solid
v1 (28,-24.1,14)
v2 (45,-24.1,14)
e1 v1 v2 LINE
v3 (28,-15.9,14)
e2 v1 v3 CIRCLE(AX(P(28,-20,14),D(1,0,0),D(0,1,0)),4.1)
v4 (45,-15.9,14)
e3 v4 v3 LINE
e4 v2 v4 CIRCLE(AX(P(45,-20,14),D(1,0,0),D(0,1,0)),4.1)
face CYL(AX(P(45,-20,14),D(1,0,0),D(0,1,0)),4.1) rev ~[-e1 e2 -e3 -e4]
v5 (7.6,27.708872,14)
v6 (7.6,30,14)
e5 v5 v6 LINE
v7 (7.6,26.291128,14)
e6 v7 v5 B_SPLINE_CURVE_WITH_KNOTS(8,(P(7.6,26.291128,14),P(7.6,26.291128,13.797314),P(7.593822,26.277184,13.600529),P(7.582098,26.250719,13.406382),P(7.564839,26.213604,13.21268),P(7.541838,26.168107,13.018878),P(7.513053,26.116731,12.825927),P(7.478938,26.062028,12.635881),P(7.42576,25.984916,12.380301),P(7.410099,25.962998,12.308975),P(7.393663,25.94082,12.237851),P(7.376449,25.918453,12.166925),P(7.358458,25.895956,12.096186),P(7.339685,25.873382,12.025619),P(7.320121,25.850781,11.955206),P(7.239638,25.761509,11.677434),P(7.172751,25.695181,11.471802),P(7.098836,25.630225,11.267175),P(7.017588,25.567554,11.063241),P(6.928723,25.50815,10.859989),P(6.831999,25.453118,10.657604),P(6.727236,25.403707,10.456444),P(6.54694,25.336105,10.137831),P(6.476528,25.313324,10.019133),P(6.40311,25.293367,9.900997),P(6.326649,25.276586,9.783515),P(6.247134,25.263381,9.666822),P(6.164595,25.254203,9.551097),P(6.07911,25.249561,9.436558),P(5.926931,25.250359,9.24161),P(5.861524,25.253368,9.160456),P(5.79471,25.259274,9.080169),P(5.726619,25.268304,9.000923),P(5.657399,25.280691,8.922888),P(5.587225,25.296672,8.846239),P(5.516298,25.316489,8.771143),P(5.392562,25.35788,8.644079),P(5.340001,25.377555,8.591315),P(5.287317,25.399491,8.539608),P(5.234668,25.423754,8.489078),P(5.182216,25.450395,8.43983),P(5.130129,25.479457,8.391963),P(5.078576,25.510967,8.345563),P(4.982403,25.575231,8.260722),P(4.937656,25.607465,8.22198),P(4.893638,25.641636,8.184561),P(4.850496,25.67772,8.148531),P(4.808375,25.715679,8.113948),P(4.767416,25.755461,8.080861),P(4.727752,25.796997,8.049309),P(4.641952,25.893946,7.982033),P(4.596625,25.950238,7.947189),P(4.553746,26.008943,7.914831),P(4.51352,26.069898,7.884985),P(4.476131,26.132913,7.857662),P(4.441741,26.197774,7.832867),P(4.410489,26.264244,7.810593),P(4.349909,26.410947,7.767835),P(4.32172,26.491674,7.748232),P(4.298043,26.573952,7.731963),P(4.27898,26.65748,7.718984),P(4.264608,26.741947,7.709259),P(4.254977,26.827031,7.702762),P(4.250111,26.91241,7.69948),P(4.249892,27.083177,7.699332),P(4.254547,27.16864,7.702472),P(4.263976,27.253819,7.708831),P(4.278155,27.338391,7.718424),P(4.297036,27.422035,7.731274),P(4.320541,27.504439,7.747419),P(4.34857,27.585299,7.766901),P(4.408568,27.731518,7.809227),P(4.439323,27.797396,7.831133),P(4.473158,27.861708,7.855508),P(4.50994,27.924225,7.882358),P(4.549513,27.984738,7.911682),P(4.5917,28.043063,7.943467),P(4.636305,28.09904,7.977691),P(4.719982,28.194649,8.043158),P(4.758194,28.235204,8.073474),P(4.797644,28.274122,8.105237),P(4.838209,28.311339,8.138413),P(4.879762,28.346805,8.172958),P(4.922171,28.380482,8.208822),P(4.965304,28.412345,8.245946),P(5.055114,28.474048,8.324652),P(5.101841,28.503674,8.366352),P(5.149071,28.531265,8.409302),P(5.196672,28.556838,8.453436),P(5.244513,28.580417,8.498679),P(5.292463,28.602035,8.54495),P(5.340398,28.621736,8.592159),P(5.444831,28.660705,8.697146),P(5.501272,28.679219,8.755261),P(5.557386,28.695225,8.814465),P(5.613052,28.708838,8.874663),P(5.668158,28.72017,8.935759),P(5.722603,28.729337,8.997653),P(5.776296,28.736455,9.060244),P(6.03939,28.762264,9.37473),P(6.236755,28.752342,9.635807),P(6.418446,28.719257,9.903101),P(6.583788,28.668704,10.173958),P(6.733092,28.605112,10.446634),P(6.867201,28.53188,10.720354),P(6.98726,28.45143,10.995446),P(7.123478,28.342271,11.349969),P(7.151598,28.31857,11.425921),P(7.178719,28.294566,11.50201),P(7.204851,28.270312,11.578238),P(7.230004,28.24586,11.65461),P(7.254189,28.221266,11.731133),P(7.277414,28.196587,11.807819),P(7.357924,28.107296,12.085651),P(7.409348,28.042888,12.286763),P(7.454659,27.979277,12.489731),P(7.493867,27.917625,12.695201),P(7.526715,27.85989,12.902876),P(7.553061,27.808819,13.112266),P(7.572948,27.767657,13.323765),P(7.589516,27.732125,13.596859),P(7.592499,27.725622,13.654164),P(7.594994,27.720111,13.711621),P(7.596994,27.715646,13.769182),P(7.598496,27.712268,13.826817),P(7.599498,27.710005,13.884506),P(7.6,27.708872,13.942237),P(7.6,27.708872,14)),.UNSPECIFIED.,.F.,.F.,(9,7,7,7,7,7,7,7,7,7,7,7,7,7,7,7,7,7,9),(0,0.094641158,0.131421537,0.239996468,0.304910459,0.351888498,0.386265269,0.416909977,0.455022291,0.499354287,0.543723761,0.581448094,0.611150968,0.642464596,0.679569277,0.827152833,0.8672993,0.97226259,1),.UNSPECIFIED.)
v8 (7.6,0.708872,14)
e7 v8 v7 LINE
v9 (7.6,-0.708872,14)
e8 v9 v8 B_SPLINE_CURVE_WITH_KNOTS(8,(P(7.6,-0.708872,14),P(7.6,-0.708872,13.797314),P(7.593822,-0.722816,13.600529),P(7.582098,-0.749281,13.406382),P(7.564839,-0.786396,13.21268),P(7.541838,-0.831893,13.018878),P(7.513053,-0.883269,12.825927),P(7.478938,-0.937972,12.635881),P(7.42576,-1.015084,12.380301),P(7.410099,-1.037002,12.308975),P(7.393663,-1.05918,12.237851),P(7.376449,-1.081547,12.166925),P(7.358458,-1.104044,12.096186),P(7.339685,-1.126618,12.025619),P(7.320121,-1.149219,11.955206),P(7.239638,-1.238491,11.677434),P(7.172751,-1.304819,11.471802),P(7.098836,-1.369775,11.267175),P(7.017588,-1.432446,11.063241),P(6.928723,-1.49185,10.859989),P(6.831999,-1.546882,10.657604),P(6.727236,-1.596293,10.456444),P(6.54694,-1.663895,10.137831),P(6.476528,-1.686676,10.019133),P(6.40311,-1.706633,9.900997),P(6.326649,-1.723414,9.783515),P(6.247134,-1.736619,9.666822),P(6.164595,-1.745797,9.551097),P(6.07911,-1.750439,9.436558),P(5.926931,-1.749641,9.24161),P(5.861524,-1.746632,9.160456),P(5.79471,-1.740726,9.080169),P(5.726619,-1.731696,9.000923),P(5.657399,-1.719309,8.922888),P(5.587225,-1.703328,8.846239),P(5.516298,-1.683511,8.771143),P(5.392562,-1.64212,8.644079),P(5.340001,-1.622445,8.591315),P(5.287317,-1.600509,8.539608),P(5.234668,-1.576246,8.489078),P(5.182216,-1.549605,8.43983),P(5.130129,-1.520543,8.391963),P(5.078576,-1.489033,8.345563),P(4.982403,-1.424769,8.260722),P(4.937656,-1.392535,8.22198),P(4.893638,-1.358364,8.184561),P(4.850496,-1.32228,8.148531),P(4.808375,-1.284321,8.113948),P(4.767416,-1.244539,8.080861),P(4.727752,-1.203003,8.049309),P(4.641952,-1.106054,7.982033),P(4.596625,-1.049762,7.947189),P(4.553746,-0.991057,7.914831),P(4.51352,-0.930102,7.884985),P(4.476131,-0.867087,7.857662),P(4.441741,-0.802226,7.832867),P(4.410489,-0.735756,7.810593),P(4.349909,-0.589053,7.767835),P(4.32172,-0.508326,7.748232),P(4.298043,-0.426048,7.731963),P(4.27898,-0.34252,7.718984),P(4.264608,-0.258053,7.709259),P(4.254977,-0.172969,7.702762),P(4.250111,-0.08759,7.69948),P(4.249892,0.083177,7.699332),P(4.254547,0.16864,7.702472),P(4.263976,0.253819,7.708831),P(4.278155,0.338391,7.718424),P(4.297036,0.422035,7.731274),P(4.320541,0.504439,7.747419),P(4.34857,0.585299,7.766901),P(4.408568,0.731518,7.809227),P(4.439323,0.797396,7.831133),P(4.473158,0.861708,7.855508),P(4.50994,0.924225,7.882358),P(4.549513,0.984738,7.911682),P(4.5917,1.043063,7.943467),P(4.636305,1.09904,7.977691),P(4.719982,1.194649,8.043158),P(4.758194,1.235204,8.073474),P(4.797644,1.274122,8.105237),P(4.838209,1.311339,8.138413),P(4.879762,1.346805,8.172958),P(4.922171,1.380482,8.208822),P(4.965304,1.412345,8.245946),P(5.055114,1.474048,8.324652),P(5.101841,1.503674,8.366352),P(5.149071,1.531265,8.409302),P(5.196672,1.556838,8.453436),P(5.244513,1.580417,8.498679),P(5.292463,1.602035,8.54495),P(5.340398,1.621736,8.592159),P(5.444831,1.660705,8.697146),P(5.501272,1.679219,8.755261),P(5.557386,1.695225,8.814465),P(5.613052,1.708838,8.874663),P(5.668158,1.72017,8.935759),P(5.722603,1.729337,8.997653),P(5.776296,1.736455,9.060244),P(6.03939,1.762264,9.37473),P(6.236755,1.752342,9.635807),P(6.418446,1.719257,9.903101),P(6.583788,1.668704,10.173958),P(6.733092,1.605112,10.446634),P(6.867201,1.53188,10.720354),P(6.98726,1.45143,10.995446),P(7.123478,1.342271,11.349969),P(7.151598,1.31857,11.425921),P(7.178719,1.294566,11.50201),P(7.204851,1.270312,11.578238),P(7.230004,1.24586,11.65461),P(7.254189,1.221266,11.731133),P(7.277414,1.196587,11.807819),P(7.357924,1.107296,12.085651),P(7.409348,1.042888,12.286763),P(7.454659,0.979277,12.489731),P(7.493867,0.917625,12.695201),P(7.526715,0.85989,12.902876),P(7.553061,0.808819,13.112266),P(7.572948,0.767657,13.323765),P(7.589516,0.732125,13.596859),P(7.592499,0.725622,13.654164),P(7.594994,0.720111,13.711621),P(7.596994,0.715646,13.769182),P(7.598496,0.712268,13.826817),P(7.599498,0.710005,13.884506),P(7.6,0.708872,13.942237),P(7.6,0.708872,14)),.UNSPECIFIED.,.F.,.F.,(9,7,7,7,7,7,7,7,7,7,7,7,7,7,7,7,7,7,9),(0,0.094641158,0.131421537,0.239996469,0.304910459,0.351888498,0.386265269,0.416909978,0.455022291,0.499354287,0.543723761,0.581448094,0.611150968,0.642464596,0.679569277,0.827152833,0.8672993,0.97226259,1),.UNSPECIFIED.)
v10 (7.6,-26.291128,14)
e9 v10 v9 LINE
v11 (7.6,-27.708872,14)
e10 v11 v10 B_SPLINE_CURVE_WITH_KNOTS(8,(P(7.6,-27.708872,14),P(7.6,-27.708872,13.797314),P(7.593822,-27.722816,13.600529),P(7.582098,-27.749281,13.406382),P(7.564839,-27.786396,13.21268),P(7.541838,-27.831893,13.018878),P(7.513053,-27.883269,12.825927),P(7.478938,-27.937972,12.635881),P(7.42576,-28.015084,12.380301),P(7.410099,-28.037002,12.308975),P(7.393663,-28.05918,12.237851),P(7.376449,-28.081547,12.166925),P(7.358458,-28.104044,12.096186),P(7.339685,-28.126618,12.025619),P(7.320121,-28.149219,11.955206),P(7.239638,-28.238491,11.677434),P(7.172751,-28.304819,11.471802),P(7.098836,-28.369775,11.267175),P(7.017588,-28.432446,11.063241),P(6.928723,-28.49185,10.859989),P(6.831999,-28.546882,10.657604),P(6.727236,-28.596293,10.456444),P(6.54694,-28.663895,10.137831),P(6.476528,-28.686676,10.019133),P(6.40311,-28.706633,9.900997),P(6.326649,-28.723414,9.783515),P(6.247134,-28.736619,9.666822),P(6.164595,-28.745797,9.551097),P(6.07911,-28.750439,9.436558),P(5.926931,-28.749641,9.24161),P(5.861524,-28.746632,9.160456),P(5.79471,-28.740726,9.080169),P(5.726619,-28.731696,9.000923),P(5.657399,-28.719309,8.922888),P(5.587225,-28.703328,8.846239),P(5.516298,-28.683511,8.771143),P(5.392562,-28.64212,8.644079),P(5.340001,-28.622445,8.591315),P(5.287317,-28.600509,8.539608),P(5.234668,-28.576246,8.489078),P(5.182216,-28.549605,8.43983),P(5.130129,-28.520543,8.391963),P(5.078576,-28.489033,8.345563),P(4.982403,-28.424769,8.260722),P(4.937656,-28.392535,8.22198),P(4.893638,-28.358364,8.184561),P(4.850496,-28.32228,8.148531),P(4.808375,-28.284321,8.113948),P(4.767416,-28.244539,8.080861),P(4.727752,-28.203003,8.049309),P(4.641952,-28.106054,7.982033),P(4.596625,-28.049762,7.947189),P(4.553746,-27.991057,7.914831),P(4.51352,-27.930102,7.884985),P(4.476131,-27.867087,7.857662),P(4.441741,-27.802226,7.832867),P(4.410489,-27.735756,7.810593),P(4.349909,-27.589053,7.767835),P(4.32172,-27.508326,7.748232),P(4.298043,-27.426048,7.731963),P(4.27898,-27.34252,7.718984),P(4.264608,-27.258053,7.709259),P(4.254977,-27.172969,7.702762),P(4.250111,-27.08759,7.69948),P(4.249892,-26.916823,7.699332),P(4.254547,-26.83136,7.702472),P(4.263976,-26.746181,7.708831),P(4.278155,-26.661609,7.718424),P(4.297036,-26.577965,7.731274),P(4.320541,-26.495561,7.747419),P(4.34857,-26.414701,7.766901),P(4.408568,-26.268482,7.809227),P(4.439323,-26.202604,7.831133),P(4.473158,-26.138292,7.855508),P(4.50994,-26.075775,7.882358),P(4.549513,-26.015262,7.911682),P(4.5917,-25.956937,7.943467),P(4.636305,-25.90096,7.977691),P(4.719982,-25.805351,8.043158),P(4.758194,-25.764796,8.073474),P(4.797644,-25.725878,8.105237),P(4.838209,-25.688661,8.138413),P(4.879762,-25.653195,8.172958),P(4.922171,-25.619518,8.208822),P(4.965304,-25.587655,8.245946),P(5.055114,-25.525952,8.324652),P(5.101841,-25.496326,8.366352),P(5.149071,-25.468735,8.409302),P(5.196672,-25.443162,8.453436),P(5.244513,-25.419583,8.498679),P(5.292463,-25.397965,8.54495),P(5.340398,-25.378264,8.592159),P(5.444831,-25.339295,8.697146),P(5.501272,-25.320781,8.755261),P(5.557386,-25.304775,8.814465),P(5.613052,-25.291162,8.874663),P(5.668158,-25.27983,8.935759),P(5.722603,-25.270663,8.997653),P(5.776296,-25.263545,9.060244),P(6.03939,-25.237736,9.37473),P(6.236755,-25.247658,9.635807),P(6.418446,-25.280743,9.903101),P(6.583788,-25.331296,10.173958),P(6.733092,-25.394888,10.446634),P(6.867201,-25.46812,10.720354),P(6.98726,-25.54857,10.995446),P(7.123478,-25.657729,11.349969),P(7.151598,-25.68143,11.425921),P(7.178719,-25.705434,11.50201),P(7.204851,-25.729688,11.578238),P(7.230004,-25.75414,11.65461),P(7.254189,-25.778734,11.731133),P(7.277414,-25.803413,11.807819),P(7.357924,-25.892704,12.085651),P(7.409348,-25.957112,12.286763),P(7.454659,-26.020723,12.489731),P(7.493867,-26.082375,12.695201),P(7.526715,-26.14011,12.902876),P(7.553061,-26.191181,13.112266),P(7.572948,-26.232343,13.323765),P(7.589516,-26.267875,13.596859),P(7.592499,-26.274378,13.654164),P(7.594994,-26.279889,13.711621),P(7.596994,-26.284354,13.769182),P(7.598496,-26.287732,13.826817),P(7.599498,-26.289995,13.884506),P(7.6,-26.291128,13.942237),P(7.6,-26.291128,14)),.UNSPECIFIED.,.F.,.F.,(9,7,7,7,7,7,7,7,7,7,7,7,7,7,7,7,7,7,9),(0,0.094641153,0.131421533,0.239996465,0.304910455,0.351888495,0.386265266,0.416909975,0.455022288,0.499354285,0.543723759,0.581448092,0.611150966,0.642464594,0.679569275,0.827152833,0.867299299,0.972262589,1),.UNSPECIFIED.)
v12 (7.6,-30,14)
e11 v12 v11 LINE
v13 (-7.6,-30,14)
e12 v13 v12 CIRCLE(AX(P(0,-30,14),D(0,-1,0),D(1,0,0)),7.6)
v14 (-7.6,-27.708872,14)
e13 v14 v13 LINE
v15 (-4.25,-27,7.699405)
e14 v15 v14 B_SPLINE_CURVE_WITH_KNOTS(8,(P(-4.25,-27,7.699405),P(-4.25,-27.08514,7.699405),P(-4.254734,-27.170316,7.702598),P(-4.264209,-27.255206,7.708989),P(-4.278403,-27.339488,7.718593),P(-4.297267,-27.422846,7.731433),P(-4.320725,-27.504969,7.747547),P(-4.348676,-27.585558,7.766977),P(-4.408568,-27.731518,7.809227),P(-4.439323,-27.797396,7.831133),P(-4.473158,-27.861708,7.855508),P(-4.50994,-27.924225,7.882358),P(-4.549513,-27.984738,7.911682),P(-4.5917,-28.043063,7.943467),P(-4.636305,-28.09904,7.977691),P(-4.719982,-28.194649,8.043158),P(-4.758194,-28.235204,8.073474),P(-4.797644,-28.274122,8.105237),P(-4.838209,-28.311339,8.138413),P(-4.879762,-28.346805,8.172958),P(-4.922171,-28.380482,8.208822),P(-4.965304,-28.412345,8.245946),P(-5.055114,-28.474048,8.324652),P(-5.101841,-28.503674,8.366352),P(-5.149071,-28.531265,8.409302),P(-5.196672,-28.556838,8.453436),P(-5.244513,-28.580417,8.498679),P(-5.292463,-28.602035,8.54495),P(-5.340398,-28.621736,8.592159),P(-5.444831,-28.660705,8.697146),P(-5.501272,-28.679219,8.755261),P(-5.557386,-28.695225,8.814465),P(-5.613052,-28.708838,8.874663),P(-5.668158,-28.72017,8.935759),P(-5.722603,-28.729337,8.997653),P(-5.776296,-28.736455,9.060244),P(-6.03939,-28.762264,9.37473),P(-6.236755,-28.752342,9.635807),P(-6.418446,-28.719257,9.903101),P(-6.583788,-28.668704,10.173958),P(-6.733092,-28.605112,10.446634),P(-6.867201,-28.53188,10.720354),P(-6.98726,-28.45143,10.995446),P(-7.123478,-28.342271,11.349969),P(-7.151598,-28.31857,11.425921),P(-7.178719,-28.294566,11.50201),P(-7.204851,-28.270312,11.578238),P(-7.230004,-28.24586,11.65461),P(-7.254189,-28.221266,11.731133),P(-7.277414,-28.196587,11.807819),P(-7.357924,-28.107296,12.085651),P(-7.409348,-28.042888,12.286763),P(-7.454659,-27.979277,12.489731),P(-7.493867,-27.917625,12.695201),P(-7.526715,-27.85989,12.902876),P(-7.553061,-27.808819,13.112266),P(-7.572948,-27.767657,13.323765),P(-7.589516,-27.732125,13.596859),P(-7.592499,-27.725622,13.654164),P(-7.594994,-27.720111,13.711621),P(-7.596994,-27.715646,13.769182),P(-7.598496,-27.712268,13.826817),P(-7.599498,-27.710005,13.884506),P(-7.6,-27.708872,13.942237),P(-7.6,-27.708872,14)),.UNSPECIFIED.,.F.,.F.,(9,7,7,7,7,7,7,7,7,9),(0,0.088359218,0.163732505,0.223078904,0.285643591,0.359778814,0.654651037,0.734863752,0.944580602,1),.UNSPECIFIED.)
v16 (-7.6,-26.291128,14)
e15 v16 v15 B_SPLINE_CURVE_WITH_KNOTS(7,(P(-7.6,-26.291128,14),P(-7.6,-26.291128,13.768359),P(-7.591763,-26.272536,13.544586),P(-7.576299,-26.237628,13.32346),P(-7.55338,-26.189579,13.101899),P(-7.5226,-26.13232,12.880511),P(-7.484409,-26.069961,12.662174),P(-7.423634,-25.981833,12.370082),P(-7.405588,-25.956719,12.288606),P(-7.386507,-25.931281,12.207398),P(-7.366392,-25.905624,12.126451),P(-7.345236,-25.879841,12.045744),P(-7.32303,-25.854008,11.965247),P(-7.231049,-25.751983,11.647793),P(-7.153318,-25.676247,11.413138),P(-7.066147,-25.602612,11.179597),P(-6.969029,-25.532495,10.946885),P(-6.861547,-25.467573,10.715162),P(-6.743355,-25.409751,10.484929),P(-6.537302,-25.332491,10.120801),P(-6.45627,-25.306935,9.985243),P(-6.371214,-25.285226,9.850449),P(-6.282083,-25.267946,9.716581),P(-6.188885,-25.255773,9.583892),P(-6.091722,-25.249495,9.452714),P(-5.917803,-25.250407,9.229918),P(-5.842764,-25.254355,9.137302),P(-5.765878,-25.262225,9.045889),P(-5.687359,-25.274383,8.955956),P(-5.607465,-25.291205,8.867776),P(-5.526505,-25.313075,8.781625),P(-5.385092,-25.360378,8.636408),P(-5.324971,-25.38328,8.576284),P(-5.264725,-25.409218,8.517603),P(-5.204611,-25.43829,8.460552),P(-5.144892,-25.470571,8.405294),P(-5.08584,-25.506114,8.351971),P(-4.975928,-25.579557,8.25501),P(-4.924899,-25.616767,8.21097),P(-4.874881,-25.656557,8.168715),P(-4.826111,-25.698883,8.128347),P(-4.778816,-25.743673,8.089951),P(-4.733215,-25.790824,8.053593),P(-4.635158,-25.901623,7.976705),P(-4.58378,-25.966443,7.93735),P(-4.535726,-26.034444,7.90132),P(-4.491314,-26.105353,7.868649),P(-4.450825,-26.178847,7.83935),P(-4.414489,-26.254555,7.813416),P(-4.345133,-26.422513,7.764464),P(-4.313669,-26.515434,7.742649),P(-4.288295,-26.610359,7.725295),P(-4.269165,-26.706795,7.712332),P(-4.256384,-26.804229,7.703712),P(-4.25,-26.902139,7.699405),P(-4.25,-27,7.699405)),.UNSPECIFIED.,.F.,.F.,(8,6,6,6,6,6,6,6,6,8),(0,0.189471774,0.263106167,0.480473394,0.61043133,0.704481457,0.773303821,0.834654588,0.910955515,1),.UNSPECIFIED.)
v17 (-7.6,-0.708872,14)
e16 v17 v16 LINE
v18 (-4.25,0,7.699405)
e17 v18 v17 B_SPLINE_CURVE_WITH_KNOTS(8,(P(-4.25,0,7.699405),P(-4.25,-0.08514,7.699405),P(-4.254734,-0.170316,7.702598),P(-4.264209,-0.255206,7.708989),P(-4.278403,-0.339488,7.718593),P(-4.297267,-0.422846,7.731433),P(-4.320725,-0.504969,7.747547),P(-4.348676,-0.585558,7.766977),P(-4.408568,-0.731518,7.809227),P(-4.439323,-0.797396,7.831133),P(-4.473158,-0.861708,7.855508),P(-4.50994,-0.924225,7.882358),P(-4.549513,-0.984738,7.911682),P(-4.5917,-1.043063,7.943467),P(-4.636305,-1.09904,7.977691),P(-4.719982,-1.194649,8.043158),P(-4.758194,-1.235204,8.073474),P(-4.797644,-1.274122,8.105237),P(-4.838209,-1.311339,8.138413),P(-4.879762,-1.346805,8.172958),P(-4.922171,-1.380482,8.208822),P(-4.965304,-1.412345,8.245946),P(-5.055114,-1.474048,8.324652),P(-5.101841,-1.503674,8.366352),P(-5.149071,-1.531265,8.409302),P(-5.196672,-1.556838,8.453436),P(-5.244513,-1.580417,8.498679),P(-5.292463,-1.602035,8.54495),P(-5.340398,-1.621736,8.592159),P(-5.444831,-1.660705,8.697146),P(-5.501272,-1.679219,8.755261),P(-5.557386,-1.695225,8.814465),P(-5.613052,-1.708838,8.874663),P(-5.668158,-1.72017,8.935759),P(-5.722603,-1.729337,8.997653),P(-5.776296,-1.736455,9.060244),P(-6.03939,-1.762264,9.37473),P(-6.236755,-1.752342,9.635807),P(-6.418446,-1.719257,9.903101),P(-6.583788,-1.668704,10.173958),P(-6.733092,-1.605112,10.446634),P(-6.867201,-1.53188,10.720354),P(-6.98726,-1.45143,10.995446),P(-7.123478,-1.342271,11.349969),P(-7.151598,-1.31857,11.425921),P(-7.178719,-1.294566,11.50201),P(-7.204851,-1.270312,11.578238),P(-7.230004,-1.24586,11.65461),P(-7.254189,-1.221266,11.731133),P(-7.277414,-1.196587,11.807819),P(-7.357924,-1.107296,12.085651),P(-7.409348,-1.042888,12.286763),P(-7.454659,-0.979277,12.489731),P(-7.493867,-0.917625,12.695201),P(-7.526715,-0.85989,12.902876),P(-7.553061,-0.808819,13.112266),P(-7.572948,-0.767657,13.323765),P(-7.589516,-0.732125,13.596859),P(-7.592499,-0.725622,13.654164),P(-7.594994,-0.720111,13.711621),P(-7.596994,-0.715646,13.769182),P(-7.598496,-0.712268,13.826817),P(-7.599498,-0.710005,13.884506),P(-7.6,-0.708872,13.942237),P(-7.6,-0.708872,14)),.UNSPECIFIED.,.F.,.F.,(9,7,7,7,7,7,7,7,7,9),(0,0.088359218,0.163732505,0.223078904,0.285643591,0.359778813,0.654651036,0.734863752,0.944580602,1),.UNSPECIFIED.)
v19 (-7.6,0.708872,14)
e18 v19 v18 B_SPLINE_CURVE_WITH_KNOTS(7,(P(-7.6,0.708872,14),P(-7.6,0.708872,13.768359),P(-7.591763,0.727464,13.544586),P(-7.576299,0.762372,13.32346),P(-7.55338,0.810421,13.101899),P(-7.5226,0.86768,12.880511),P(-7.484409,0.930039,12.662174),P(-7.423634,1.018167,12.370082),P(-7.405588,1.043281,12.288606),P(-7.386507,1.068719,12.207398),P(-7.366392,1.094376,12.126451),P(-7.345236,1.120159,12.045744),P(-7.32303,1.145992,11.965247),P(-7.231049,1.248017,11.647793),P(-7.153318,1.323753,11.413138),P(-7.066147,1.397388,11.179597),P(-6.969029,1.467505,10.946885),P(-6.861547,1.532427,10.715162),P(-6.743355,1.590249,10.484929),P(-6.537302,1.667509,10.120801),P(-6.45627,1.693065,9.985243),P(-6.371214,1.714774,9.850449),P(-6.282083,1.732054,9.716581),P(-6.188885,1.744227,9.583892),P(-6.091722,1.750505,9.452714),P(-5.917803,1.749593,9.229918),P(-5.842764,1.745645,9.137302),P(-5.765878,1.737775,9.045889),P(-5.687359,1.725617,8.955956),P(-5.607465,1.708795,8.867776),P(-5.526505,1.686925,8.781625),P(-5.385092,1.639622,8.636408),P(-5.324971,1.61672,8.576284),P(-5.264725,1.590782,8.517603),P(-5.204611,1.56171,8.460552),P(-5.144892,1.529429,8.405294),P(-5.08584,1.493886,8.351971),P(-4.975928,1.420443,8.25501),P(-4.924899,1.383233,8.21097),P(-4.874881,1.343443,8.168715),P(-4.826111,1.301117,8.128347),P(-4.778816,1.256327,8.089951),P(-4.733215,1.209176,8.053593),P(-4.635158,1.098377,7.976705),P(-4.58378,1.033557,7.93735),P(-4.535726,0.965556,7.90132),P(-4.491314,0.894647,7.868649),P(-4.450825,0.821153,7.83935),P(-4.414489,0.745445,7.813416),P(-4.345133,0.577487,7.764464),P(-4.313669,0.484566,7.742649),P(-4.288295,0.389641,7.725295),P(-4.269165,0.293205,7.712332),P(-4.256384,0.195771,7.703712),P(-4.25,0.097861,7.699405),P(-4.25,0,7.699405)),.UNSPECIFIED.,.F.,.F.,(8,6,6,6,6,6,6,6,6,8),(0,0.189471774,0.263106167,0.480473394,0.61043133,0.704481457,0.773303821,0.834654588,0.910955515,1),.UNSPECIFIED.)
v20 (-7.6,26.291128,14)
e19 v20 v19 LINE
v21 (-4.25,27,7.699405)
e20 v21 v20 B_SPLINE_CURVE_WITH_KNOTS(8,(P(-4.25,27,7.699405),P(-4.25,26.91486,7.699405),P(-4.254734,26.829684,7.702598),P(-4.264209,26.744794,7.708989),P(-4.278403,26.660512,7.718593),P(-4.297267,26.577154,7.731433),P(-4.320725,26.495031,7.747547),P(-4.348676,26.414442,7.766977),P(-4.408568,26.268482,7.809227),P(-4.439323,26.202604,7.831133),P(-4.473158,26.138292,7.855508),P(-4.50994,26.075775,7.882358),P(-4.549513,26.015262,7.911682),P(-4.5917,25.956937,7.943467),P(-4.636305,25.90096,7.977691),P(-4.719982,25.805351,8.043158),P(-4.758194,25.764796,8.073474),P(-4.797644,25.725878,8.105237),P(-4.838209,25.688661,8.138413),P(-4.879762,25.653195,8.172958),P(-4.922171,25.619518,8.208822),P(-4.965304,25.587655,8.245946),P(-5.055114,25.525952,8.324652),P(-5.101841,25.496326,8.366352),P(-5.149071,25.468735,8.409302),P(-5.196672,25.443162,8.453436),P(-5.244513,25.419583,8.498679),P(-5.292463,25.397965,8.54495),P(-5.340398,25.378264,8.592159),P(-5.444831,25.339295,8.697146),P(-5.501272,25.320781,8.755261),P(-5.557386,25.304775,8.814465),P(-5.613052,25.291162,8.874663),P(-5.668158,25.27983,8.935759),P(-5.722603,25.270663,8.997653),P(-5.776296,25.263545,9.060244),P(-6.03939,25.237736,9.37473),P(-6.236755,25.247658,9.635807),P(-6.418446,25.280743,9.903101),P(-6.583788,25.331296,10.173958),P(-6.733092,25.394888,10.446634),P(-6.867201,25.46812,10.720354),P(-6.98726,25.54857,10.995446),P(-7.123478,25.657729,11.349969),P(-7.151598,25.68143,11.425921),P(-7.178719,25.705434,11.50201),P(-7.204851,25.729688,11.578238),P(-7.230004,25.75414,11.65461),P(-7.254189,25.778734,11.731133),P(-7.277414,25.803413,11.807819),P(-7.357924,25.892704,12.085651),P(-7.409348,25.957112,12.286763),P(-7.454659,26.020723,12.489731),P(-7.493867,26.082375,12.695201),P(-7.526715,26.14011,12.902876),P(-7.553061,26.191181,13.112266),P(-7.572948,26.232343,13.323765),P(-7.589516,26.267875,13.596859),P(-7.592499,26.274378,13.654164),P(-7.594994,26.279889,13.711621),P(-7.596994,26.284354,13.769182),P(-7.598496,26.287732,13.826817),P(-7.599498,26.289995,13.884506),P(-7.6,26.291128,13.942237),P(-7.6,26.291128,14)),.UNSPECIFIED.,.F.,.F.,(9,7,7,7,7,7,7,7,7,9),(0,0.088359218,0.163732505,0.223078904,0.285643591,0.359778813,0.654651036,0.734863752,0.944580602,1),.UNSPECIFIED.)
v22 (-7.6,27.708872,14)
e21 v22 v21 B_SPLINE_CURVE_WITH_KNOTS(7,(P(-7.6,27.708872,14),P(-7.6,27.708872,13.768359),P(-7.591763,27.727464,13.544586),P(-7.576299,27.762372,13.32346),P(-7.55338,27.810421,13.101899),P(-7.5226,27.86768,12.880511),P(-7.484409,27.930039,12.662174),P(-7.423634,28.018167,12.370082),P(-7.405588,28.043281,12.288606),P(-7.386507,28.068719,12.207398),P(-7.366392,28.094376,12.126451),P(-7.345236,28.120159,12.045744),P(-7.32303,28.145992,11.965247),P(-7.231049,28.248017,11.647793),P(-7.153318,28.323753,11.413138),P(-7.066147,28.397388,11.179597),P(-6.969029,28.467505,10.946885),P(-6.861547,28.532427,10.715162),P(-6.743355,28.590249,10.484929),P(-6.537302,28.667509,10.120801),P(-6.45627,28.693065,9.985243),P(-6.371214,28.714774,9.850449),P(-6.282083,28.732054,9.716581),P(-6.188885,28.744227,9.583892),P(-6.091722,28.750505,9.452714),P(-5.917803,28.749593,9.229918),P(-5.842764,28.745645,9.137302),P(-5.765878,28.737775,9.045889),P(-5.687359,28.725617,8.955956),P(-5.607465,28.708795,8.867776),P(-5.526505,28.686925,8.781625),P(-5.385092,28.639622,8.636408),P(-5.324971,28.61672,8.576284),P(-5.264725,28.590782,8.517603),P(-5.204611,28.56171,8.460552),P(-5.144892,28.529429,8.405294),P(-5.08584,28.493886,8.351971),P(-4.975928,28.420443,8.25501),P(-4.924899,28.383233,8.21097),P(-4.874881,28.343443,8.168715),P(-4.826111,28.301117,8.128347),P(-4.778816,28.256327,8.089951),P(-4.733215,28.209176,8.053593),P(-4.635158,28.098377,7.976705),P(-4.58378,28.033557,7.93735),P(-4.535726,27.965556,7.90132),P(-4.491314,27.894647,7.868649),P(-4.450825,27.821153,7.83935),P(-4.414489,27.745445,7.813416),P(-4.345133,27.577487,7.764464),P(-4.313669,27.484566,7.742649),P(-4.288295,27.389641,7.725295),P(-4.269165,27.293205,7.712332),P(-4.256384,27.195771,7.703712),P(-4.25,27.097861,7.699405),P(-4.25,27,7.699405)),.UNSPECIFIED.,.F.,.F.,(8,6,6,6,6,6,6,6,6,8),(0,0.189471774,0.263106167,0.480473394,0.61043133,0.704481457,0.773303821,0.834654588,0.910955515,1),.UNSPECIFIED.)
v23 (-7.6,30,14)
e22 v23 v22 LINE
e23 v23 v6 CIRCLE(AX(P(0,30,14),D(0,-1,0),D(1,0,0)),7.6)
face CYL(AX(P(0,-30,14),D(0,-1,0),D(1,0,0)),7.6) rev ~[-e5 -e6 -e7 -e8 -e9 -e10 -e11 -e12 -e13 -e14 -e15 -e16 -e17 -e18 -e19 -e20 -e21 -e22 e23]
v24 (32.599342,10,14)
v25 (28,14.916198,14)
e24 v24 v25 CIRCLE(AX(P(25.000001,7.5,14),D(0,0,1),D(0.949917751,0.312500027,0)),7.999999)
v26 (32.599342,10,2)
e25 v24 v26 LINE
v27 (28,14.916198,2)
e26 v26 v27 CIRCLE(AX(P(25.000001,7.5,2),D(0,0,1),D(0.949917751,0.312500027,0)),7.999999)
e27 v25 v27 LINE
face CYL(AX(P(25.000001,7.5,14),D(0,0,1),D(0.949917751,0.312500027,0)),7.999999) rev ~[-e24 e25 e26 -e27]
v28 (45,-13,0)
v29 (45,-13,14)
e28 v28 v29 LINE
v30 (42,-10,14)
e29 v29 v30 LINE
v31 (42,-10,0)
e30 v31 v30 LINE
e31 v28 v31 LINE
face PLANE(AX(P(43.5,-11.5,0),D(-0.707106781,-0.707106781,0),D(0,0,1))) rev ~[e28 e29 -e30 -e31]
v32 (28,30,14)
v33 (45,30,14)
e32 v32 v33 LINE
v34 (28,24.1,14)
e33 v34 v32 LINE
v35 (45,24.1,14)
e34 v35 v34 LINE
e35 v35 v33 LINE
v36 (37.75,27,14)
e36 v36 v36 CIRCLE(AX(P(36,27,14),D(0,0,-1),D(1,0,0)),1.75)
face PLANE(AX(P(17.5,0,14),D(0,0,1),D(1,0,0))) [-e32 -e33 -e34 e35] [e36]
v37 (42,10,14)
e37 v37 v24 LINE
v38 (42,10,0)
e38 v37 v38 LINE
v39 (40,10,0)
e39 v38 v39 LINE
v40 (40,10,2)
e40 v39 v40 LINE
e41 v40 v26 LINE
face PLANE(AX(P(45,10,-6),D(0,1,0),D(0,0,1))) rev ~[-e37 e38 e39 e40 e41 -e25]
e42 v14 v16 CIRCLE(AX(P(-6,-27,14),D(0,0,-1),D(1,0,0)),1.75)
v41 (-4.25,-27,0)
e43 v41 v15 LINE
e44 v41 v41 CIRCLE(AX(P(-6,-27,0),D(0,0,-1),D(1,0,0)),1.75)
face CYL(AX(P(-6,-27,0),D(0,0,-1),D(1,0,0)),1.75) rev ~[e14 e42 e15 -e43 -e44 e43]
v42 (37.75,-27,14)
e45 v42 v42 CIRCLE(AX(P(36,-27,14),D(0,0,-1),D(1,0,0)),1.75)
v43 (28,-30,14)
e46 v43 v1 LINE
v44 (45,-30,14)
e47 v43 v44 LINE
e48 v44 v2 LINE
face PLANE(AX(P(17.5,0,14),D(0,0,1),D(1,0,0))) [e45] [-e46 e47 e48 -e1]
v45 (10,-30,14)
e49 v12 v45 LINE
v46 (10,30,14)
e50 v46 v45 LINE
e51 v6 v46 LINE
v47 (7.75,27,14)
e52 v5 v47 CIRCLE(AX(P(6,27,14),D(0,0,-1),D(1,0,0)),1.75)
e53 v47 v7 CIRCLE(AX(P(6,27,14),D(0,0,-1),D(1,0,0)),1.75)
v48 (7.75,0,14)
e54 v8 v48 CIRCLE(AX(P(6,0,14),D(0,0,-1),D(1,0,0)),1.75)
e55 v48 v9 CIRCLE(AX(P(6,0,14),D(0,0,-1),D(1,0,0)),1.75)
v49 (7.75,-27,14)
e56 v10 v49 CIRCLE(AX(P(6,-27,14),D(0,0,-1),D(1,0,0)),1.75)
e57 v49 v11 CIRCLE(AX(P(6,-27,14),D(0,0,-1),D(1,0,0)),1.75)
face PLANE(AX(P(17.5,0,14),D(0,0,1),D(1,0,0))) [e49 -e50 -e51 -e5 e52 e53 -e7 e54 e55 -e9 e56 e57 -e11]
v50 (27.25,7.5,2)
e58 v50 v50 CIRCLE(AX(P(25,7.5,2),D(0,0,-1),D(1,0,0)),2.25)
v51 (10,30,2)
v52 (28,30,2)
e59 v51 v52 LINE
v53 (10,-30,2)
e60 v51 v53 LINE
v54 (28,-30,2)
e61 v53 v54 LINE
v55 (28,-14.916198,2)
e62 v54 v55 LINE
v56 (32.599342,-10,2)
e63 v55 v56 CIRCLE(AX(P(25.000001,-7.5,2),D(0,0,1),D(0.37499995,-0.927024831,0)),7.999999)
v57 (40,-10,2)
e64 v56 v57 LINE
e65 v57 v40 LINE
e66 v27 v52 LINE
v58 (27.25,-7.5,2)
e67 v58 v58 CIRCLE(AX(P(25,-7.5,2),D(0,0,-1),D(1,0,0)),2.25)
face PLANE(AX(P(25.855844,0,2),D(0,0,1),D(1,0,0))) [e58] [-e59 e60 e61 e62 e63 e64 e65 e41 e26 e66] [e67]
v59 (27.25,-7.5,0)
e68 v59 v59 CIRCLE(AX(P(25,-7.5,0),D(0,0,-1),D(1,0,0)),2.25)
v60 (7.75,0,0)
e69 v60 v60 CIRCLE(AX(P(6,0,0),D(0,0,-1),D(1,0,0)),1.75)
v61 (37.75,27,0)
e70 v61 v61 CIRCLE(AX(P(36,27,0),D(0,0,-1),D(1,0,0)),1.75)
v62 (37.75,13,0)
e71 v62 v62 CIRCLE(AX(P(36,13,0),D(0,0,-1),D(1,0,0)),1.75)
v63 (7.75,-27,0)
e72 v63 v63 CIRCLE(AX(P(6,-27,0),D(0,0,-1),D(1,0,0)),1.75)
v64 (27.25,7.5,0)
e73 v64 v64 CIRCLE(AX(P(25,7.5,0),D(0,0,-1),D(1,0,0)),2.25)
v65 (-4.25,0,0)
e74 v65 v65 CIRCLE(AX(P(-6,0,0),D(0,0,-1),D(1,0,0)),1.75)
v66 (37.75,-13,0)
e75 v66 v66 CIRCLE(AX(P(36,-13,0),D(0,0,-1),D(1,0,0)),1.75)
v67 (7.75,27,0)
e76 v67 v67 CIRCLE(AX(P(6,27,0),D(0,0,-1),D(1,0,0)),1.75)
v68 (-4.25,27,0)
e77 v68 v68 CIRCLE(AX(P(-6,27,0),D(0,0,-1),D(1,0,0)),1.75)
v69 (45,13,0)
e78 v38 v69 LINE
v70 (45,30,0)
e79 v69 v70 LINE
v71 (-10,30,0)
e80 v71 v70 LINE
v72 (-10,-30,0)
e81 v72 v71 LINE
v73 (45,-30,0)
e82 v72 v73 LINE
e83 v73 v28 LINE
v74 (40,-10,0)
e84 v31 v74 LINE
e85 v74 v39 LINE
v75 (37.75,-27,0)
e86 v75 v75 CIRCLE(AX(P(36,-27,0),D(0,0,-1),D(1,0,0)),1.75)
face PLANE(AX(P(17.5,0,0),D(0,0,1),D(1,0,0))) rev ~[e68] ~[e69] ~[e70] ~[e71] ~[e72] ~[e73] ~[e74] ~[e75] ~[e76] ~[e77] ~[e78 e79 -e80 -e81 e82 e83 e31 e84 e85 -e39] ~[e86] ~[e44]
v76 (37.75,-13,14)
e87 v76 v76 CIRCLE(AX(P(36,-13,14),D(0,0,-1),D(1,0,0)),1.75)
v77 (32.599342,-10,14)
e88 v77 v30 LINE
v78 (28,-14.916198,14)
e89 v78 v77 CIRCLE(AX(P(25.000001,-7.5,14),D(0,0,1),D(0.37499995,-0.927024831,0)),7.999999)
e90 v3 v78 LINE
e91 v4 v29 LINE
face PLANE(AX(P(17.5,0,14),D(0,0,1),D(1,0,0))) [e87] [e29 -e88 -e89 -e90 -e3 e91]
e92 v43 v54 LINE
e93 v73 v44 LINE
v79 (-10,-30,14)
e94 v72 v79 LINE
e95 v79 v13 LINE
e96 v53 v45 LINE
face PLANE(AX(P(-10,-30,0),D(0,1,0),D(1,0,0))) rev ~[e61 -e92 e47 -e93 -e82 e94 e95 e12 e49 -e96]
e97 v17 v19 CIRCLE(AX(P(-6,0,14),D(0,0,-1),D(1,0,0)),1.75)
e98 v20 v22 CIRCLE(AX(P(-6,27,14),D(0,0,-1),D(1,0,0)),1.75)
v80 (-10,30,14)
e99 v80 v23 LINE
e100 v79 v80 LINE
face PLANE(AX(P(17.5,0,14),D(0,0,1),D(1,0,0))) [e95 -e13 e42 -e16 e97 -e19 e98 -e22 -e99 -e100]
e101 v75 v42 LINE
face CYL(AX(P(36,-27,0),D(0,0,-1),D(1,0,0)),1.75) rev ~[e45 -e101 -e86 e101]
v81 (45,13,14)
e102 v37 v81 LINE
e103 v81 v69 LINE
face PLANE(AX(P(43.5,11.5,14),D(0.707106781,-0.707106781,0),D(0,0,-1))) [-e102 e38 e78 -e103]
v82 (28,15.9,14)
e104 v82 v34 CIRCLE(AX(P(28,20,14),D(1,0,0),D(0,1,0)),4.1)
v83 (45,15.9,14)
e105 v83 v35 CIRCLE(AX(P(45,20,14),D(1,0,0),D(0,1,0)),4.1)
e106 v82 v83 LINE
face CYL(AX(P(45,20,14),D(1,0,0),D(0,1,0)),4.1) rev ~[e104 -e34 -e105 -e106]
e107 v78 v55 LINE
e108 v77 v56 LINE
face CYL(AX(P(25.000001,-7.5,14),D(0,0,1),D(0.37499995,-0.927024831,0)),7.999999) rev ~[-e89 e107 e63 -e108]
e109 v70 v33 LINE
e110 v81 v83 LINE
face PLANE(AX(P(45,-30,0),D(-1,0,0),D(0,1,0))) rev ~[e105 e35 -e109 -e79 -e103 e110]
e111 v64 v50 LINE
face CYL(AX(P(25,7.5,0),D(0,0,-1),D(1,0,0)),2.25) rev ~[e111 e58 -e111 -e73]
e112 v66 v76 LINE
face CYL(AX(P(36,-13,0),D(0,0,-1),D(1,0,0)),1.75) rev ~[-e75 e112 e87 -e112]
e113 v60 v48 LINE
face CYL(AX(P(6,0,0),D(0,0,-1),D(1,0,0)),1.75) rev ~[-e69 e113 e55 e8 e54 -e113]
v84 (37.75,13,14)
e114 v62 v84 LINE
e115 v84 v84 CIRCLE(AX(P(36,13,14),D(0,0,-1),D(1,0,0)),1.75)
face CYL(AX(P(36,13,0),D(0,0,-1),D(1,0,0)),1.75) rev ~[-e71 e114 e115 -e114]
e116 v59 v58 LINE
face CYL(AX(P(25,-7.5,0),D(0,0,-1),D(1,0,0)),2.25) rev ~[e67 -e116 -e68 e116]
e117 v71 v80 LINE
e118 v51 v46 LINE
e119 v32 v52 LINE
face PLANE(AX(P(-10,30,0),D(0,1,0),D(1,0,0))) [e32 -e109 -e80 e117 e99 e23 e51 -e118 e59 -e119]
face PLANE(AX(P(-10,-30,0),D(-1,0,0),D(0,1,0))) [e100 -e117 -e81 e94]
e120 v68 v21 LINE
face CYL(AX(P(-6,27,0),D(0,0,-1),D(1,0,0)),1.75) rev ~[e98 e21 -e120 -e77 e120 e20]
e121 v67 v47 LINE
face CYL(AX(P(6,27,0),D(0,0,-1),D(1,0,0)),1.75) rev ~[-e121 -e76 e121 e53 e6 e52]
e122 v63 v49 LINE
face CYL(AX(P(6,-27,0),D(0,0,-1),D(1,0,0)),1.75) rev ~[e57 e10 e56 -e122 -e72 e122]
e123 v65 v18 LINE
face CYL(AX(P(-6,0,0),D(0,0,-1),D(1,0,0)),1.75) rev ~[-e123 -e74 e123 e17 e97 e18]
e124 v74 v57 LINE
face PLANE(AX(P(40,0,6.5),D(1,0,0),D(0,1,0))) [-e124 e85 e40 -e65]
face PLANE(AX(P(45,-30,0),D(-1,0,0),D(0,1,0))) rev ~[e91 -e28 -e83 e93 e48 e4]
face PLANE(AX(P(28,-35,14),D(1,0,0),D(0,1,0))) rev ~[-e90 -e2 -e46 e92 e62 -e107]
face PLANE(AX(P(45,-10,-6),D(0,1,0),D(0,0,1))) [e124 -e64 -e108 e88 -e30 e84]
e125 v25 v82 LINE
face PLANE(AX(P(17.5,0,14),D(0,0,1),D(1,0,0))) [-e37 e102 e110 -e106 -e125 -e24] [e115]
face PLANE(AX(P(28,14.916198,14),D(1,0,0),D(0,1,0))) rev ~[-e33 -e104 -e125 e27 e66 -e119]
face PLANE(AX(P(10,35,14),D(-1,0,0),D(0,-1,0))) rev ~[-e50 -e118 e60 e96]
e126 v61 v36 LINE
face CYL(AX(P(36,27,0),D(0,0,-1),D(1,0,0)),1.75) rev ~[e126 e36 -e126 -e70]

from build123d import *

# Parameters (mm, degrees)
SKETCH_W        = 55
SKETCH_H        = 60
PAD_DEPTH       = 14
SKETCH001_R     = 7.6
POCKET_DEPTH    = 60.001
SKETCH002_R     = 1.75
POCKET001_DEPTH = 14.001
POCKET002_DEPTH = 12
SKETCH004_R     = 2.25
POCKET003_DEPTH = 14.001
SKETCH008_R     = 4.1
POCKET005_DEPTH = 20
SKETCH010_W     = 20
SKETCH010_H     = 25
POCKET006_DEPTH = 5
CHAMFER_SIZE    = 3
CHAMFER001_SIZE = 3


with BuildPart() as part:
    # Sketch → Pad (new body)
    with BuildSketch(Plane.XY):
        with Locations((17.5, 0)):
            Rectangle(SKETCH_W, SKETCH_H)
    extrude(amount=PAD_DEPTH)

    # Sketch001 → Pocket (cut, through all)
    with BuildSketch(Plane.XZ.offset(30)):
        with Locations((0, 14)):
            Circle(SKETCH001_R)
    extrude(amount=-POCKET_DEPTH, mode=Mode.SUBTRACT)

    # Sketch002 → Pocket001 (cut, through all)
    with BuildSketch(Plane(origin=(0, 0, 0), x_dir=(1, 0, 0), z_dir=(0, 0, -1))):
        with Locations((-6, 27)):
            Circle(SKETCH002_R)
        with Locations((36, 27)):
            Circle(SKETCH002_R)
        with Locations((-6, -27)):
            Circle(SKETCH002_R)
        with Locations((36, -27)):
            Circle(SKETCH002_R)
        with Locations((6, 27)):
            Circle(SKETCH002_R)
        with Locations((6, -27)):
            Circle(SKETCH002_R)
        with Locations((6, 0)):
            Circle(SKETCH002_R)
        with Locations((-6, 0)):
            Circle(SKETCH002_R)
        with Locations((36, -13)):
            Circle(SKETCH002_R)
        with Locations((36, 13)):
            Circle(SKETCH002_R)
    extrude(amount=-POCKET001_DEPTH, mode=Mode.SUBTRACT)

    # Sketch003 → Pocket002 (cut)
    with BuildSketch(Plane.XY.offset(14)):
        with BuildLine():
            Line((10, 35), (10, -35))
            Line((10, -35), (28, -35))
            Line((28, -35), (28, -14.916198))
            ThreePointArc((28, -14.916198), (30.841983, -12.965458), (32.599342, -10))
            Line((32.599342, -10), (52.599342, -10))
            Line((52.599342, -10), (52.599342, 10))
            Line((52.599342, 10), (32.599342, 10))
            ThreePointArc((32.599342, 10), (30.841983, 12.965458), (28, 14.916198))
            Line((28, 14.916198), (28, 35))
            Line((28, 35), (10, 35))
        make_face()
    extrude(amount=-POCKET002_DEPTH, mode=Mode.SUBTRACT)

    # Sketch004 → Pocket003 (cut, through all)
    with BuildSketch(Plane(origin=(0, 0, 0), x_dir=(1, 0, 0), z_dir=(0, 0, -1))):
        with Locations((25, 7.5)):
            Circle(SKETCH004_R)
        with Locations((25, -7.5)):
            Circle(SKETCH004_R)
    extrude(amount=-POCKET003_DEPTH, mode=Mode.SUBTRACT)

    # Sketch008 → Pocket005 (cut)
    with BuildSketch(Plane.YZ.offset(45)):
        with Locations((-20, 14)):
            Circle(SKETCH008_R)
        with Locations((20, 14)):
            Circle(SKETCH008_R)
    extrude(amount=-POCKET005_DEPTH, mode=Mode.SUBTRACT)

    # Sketch010 → Pocket006 (cut)
    with BuildSketch(Plane.YZ.offset(45)):
        with Locations((0, 6.5)):
            Rectangle(SKETCH010_W, SKETCH010_H)
    extrude(amount=-POCKET006_DEPTH, mode=Mode.SUBTRACT)

    # Chamfer
    chamfer_edges = [part.edges().sort_by_distance(p)[0] for p in [
        (45, -10, 8),
    ]]
    chamfer(chamfer_edges, length=CHAMFER_SIZE)

    # Chamfer001
    chamfer001_edges = [part.edges().sort_by_distance(p)[0] for p in [
        (45, 10, 8),
    ]]
    chamfer(chamfer001_edges, length=CHAMFER001_SIZE)


solid = part.part
